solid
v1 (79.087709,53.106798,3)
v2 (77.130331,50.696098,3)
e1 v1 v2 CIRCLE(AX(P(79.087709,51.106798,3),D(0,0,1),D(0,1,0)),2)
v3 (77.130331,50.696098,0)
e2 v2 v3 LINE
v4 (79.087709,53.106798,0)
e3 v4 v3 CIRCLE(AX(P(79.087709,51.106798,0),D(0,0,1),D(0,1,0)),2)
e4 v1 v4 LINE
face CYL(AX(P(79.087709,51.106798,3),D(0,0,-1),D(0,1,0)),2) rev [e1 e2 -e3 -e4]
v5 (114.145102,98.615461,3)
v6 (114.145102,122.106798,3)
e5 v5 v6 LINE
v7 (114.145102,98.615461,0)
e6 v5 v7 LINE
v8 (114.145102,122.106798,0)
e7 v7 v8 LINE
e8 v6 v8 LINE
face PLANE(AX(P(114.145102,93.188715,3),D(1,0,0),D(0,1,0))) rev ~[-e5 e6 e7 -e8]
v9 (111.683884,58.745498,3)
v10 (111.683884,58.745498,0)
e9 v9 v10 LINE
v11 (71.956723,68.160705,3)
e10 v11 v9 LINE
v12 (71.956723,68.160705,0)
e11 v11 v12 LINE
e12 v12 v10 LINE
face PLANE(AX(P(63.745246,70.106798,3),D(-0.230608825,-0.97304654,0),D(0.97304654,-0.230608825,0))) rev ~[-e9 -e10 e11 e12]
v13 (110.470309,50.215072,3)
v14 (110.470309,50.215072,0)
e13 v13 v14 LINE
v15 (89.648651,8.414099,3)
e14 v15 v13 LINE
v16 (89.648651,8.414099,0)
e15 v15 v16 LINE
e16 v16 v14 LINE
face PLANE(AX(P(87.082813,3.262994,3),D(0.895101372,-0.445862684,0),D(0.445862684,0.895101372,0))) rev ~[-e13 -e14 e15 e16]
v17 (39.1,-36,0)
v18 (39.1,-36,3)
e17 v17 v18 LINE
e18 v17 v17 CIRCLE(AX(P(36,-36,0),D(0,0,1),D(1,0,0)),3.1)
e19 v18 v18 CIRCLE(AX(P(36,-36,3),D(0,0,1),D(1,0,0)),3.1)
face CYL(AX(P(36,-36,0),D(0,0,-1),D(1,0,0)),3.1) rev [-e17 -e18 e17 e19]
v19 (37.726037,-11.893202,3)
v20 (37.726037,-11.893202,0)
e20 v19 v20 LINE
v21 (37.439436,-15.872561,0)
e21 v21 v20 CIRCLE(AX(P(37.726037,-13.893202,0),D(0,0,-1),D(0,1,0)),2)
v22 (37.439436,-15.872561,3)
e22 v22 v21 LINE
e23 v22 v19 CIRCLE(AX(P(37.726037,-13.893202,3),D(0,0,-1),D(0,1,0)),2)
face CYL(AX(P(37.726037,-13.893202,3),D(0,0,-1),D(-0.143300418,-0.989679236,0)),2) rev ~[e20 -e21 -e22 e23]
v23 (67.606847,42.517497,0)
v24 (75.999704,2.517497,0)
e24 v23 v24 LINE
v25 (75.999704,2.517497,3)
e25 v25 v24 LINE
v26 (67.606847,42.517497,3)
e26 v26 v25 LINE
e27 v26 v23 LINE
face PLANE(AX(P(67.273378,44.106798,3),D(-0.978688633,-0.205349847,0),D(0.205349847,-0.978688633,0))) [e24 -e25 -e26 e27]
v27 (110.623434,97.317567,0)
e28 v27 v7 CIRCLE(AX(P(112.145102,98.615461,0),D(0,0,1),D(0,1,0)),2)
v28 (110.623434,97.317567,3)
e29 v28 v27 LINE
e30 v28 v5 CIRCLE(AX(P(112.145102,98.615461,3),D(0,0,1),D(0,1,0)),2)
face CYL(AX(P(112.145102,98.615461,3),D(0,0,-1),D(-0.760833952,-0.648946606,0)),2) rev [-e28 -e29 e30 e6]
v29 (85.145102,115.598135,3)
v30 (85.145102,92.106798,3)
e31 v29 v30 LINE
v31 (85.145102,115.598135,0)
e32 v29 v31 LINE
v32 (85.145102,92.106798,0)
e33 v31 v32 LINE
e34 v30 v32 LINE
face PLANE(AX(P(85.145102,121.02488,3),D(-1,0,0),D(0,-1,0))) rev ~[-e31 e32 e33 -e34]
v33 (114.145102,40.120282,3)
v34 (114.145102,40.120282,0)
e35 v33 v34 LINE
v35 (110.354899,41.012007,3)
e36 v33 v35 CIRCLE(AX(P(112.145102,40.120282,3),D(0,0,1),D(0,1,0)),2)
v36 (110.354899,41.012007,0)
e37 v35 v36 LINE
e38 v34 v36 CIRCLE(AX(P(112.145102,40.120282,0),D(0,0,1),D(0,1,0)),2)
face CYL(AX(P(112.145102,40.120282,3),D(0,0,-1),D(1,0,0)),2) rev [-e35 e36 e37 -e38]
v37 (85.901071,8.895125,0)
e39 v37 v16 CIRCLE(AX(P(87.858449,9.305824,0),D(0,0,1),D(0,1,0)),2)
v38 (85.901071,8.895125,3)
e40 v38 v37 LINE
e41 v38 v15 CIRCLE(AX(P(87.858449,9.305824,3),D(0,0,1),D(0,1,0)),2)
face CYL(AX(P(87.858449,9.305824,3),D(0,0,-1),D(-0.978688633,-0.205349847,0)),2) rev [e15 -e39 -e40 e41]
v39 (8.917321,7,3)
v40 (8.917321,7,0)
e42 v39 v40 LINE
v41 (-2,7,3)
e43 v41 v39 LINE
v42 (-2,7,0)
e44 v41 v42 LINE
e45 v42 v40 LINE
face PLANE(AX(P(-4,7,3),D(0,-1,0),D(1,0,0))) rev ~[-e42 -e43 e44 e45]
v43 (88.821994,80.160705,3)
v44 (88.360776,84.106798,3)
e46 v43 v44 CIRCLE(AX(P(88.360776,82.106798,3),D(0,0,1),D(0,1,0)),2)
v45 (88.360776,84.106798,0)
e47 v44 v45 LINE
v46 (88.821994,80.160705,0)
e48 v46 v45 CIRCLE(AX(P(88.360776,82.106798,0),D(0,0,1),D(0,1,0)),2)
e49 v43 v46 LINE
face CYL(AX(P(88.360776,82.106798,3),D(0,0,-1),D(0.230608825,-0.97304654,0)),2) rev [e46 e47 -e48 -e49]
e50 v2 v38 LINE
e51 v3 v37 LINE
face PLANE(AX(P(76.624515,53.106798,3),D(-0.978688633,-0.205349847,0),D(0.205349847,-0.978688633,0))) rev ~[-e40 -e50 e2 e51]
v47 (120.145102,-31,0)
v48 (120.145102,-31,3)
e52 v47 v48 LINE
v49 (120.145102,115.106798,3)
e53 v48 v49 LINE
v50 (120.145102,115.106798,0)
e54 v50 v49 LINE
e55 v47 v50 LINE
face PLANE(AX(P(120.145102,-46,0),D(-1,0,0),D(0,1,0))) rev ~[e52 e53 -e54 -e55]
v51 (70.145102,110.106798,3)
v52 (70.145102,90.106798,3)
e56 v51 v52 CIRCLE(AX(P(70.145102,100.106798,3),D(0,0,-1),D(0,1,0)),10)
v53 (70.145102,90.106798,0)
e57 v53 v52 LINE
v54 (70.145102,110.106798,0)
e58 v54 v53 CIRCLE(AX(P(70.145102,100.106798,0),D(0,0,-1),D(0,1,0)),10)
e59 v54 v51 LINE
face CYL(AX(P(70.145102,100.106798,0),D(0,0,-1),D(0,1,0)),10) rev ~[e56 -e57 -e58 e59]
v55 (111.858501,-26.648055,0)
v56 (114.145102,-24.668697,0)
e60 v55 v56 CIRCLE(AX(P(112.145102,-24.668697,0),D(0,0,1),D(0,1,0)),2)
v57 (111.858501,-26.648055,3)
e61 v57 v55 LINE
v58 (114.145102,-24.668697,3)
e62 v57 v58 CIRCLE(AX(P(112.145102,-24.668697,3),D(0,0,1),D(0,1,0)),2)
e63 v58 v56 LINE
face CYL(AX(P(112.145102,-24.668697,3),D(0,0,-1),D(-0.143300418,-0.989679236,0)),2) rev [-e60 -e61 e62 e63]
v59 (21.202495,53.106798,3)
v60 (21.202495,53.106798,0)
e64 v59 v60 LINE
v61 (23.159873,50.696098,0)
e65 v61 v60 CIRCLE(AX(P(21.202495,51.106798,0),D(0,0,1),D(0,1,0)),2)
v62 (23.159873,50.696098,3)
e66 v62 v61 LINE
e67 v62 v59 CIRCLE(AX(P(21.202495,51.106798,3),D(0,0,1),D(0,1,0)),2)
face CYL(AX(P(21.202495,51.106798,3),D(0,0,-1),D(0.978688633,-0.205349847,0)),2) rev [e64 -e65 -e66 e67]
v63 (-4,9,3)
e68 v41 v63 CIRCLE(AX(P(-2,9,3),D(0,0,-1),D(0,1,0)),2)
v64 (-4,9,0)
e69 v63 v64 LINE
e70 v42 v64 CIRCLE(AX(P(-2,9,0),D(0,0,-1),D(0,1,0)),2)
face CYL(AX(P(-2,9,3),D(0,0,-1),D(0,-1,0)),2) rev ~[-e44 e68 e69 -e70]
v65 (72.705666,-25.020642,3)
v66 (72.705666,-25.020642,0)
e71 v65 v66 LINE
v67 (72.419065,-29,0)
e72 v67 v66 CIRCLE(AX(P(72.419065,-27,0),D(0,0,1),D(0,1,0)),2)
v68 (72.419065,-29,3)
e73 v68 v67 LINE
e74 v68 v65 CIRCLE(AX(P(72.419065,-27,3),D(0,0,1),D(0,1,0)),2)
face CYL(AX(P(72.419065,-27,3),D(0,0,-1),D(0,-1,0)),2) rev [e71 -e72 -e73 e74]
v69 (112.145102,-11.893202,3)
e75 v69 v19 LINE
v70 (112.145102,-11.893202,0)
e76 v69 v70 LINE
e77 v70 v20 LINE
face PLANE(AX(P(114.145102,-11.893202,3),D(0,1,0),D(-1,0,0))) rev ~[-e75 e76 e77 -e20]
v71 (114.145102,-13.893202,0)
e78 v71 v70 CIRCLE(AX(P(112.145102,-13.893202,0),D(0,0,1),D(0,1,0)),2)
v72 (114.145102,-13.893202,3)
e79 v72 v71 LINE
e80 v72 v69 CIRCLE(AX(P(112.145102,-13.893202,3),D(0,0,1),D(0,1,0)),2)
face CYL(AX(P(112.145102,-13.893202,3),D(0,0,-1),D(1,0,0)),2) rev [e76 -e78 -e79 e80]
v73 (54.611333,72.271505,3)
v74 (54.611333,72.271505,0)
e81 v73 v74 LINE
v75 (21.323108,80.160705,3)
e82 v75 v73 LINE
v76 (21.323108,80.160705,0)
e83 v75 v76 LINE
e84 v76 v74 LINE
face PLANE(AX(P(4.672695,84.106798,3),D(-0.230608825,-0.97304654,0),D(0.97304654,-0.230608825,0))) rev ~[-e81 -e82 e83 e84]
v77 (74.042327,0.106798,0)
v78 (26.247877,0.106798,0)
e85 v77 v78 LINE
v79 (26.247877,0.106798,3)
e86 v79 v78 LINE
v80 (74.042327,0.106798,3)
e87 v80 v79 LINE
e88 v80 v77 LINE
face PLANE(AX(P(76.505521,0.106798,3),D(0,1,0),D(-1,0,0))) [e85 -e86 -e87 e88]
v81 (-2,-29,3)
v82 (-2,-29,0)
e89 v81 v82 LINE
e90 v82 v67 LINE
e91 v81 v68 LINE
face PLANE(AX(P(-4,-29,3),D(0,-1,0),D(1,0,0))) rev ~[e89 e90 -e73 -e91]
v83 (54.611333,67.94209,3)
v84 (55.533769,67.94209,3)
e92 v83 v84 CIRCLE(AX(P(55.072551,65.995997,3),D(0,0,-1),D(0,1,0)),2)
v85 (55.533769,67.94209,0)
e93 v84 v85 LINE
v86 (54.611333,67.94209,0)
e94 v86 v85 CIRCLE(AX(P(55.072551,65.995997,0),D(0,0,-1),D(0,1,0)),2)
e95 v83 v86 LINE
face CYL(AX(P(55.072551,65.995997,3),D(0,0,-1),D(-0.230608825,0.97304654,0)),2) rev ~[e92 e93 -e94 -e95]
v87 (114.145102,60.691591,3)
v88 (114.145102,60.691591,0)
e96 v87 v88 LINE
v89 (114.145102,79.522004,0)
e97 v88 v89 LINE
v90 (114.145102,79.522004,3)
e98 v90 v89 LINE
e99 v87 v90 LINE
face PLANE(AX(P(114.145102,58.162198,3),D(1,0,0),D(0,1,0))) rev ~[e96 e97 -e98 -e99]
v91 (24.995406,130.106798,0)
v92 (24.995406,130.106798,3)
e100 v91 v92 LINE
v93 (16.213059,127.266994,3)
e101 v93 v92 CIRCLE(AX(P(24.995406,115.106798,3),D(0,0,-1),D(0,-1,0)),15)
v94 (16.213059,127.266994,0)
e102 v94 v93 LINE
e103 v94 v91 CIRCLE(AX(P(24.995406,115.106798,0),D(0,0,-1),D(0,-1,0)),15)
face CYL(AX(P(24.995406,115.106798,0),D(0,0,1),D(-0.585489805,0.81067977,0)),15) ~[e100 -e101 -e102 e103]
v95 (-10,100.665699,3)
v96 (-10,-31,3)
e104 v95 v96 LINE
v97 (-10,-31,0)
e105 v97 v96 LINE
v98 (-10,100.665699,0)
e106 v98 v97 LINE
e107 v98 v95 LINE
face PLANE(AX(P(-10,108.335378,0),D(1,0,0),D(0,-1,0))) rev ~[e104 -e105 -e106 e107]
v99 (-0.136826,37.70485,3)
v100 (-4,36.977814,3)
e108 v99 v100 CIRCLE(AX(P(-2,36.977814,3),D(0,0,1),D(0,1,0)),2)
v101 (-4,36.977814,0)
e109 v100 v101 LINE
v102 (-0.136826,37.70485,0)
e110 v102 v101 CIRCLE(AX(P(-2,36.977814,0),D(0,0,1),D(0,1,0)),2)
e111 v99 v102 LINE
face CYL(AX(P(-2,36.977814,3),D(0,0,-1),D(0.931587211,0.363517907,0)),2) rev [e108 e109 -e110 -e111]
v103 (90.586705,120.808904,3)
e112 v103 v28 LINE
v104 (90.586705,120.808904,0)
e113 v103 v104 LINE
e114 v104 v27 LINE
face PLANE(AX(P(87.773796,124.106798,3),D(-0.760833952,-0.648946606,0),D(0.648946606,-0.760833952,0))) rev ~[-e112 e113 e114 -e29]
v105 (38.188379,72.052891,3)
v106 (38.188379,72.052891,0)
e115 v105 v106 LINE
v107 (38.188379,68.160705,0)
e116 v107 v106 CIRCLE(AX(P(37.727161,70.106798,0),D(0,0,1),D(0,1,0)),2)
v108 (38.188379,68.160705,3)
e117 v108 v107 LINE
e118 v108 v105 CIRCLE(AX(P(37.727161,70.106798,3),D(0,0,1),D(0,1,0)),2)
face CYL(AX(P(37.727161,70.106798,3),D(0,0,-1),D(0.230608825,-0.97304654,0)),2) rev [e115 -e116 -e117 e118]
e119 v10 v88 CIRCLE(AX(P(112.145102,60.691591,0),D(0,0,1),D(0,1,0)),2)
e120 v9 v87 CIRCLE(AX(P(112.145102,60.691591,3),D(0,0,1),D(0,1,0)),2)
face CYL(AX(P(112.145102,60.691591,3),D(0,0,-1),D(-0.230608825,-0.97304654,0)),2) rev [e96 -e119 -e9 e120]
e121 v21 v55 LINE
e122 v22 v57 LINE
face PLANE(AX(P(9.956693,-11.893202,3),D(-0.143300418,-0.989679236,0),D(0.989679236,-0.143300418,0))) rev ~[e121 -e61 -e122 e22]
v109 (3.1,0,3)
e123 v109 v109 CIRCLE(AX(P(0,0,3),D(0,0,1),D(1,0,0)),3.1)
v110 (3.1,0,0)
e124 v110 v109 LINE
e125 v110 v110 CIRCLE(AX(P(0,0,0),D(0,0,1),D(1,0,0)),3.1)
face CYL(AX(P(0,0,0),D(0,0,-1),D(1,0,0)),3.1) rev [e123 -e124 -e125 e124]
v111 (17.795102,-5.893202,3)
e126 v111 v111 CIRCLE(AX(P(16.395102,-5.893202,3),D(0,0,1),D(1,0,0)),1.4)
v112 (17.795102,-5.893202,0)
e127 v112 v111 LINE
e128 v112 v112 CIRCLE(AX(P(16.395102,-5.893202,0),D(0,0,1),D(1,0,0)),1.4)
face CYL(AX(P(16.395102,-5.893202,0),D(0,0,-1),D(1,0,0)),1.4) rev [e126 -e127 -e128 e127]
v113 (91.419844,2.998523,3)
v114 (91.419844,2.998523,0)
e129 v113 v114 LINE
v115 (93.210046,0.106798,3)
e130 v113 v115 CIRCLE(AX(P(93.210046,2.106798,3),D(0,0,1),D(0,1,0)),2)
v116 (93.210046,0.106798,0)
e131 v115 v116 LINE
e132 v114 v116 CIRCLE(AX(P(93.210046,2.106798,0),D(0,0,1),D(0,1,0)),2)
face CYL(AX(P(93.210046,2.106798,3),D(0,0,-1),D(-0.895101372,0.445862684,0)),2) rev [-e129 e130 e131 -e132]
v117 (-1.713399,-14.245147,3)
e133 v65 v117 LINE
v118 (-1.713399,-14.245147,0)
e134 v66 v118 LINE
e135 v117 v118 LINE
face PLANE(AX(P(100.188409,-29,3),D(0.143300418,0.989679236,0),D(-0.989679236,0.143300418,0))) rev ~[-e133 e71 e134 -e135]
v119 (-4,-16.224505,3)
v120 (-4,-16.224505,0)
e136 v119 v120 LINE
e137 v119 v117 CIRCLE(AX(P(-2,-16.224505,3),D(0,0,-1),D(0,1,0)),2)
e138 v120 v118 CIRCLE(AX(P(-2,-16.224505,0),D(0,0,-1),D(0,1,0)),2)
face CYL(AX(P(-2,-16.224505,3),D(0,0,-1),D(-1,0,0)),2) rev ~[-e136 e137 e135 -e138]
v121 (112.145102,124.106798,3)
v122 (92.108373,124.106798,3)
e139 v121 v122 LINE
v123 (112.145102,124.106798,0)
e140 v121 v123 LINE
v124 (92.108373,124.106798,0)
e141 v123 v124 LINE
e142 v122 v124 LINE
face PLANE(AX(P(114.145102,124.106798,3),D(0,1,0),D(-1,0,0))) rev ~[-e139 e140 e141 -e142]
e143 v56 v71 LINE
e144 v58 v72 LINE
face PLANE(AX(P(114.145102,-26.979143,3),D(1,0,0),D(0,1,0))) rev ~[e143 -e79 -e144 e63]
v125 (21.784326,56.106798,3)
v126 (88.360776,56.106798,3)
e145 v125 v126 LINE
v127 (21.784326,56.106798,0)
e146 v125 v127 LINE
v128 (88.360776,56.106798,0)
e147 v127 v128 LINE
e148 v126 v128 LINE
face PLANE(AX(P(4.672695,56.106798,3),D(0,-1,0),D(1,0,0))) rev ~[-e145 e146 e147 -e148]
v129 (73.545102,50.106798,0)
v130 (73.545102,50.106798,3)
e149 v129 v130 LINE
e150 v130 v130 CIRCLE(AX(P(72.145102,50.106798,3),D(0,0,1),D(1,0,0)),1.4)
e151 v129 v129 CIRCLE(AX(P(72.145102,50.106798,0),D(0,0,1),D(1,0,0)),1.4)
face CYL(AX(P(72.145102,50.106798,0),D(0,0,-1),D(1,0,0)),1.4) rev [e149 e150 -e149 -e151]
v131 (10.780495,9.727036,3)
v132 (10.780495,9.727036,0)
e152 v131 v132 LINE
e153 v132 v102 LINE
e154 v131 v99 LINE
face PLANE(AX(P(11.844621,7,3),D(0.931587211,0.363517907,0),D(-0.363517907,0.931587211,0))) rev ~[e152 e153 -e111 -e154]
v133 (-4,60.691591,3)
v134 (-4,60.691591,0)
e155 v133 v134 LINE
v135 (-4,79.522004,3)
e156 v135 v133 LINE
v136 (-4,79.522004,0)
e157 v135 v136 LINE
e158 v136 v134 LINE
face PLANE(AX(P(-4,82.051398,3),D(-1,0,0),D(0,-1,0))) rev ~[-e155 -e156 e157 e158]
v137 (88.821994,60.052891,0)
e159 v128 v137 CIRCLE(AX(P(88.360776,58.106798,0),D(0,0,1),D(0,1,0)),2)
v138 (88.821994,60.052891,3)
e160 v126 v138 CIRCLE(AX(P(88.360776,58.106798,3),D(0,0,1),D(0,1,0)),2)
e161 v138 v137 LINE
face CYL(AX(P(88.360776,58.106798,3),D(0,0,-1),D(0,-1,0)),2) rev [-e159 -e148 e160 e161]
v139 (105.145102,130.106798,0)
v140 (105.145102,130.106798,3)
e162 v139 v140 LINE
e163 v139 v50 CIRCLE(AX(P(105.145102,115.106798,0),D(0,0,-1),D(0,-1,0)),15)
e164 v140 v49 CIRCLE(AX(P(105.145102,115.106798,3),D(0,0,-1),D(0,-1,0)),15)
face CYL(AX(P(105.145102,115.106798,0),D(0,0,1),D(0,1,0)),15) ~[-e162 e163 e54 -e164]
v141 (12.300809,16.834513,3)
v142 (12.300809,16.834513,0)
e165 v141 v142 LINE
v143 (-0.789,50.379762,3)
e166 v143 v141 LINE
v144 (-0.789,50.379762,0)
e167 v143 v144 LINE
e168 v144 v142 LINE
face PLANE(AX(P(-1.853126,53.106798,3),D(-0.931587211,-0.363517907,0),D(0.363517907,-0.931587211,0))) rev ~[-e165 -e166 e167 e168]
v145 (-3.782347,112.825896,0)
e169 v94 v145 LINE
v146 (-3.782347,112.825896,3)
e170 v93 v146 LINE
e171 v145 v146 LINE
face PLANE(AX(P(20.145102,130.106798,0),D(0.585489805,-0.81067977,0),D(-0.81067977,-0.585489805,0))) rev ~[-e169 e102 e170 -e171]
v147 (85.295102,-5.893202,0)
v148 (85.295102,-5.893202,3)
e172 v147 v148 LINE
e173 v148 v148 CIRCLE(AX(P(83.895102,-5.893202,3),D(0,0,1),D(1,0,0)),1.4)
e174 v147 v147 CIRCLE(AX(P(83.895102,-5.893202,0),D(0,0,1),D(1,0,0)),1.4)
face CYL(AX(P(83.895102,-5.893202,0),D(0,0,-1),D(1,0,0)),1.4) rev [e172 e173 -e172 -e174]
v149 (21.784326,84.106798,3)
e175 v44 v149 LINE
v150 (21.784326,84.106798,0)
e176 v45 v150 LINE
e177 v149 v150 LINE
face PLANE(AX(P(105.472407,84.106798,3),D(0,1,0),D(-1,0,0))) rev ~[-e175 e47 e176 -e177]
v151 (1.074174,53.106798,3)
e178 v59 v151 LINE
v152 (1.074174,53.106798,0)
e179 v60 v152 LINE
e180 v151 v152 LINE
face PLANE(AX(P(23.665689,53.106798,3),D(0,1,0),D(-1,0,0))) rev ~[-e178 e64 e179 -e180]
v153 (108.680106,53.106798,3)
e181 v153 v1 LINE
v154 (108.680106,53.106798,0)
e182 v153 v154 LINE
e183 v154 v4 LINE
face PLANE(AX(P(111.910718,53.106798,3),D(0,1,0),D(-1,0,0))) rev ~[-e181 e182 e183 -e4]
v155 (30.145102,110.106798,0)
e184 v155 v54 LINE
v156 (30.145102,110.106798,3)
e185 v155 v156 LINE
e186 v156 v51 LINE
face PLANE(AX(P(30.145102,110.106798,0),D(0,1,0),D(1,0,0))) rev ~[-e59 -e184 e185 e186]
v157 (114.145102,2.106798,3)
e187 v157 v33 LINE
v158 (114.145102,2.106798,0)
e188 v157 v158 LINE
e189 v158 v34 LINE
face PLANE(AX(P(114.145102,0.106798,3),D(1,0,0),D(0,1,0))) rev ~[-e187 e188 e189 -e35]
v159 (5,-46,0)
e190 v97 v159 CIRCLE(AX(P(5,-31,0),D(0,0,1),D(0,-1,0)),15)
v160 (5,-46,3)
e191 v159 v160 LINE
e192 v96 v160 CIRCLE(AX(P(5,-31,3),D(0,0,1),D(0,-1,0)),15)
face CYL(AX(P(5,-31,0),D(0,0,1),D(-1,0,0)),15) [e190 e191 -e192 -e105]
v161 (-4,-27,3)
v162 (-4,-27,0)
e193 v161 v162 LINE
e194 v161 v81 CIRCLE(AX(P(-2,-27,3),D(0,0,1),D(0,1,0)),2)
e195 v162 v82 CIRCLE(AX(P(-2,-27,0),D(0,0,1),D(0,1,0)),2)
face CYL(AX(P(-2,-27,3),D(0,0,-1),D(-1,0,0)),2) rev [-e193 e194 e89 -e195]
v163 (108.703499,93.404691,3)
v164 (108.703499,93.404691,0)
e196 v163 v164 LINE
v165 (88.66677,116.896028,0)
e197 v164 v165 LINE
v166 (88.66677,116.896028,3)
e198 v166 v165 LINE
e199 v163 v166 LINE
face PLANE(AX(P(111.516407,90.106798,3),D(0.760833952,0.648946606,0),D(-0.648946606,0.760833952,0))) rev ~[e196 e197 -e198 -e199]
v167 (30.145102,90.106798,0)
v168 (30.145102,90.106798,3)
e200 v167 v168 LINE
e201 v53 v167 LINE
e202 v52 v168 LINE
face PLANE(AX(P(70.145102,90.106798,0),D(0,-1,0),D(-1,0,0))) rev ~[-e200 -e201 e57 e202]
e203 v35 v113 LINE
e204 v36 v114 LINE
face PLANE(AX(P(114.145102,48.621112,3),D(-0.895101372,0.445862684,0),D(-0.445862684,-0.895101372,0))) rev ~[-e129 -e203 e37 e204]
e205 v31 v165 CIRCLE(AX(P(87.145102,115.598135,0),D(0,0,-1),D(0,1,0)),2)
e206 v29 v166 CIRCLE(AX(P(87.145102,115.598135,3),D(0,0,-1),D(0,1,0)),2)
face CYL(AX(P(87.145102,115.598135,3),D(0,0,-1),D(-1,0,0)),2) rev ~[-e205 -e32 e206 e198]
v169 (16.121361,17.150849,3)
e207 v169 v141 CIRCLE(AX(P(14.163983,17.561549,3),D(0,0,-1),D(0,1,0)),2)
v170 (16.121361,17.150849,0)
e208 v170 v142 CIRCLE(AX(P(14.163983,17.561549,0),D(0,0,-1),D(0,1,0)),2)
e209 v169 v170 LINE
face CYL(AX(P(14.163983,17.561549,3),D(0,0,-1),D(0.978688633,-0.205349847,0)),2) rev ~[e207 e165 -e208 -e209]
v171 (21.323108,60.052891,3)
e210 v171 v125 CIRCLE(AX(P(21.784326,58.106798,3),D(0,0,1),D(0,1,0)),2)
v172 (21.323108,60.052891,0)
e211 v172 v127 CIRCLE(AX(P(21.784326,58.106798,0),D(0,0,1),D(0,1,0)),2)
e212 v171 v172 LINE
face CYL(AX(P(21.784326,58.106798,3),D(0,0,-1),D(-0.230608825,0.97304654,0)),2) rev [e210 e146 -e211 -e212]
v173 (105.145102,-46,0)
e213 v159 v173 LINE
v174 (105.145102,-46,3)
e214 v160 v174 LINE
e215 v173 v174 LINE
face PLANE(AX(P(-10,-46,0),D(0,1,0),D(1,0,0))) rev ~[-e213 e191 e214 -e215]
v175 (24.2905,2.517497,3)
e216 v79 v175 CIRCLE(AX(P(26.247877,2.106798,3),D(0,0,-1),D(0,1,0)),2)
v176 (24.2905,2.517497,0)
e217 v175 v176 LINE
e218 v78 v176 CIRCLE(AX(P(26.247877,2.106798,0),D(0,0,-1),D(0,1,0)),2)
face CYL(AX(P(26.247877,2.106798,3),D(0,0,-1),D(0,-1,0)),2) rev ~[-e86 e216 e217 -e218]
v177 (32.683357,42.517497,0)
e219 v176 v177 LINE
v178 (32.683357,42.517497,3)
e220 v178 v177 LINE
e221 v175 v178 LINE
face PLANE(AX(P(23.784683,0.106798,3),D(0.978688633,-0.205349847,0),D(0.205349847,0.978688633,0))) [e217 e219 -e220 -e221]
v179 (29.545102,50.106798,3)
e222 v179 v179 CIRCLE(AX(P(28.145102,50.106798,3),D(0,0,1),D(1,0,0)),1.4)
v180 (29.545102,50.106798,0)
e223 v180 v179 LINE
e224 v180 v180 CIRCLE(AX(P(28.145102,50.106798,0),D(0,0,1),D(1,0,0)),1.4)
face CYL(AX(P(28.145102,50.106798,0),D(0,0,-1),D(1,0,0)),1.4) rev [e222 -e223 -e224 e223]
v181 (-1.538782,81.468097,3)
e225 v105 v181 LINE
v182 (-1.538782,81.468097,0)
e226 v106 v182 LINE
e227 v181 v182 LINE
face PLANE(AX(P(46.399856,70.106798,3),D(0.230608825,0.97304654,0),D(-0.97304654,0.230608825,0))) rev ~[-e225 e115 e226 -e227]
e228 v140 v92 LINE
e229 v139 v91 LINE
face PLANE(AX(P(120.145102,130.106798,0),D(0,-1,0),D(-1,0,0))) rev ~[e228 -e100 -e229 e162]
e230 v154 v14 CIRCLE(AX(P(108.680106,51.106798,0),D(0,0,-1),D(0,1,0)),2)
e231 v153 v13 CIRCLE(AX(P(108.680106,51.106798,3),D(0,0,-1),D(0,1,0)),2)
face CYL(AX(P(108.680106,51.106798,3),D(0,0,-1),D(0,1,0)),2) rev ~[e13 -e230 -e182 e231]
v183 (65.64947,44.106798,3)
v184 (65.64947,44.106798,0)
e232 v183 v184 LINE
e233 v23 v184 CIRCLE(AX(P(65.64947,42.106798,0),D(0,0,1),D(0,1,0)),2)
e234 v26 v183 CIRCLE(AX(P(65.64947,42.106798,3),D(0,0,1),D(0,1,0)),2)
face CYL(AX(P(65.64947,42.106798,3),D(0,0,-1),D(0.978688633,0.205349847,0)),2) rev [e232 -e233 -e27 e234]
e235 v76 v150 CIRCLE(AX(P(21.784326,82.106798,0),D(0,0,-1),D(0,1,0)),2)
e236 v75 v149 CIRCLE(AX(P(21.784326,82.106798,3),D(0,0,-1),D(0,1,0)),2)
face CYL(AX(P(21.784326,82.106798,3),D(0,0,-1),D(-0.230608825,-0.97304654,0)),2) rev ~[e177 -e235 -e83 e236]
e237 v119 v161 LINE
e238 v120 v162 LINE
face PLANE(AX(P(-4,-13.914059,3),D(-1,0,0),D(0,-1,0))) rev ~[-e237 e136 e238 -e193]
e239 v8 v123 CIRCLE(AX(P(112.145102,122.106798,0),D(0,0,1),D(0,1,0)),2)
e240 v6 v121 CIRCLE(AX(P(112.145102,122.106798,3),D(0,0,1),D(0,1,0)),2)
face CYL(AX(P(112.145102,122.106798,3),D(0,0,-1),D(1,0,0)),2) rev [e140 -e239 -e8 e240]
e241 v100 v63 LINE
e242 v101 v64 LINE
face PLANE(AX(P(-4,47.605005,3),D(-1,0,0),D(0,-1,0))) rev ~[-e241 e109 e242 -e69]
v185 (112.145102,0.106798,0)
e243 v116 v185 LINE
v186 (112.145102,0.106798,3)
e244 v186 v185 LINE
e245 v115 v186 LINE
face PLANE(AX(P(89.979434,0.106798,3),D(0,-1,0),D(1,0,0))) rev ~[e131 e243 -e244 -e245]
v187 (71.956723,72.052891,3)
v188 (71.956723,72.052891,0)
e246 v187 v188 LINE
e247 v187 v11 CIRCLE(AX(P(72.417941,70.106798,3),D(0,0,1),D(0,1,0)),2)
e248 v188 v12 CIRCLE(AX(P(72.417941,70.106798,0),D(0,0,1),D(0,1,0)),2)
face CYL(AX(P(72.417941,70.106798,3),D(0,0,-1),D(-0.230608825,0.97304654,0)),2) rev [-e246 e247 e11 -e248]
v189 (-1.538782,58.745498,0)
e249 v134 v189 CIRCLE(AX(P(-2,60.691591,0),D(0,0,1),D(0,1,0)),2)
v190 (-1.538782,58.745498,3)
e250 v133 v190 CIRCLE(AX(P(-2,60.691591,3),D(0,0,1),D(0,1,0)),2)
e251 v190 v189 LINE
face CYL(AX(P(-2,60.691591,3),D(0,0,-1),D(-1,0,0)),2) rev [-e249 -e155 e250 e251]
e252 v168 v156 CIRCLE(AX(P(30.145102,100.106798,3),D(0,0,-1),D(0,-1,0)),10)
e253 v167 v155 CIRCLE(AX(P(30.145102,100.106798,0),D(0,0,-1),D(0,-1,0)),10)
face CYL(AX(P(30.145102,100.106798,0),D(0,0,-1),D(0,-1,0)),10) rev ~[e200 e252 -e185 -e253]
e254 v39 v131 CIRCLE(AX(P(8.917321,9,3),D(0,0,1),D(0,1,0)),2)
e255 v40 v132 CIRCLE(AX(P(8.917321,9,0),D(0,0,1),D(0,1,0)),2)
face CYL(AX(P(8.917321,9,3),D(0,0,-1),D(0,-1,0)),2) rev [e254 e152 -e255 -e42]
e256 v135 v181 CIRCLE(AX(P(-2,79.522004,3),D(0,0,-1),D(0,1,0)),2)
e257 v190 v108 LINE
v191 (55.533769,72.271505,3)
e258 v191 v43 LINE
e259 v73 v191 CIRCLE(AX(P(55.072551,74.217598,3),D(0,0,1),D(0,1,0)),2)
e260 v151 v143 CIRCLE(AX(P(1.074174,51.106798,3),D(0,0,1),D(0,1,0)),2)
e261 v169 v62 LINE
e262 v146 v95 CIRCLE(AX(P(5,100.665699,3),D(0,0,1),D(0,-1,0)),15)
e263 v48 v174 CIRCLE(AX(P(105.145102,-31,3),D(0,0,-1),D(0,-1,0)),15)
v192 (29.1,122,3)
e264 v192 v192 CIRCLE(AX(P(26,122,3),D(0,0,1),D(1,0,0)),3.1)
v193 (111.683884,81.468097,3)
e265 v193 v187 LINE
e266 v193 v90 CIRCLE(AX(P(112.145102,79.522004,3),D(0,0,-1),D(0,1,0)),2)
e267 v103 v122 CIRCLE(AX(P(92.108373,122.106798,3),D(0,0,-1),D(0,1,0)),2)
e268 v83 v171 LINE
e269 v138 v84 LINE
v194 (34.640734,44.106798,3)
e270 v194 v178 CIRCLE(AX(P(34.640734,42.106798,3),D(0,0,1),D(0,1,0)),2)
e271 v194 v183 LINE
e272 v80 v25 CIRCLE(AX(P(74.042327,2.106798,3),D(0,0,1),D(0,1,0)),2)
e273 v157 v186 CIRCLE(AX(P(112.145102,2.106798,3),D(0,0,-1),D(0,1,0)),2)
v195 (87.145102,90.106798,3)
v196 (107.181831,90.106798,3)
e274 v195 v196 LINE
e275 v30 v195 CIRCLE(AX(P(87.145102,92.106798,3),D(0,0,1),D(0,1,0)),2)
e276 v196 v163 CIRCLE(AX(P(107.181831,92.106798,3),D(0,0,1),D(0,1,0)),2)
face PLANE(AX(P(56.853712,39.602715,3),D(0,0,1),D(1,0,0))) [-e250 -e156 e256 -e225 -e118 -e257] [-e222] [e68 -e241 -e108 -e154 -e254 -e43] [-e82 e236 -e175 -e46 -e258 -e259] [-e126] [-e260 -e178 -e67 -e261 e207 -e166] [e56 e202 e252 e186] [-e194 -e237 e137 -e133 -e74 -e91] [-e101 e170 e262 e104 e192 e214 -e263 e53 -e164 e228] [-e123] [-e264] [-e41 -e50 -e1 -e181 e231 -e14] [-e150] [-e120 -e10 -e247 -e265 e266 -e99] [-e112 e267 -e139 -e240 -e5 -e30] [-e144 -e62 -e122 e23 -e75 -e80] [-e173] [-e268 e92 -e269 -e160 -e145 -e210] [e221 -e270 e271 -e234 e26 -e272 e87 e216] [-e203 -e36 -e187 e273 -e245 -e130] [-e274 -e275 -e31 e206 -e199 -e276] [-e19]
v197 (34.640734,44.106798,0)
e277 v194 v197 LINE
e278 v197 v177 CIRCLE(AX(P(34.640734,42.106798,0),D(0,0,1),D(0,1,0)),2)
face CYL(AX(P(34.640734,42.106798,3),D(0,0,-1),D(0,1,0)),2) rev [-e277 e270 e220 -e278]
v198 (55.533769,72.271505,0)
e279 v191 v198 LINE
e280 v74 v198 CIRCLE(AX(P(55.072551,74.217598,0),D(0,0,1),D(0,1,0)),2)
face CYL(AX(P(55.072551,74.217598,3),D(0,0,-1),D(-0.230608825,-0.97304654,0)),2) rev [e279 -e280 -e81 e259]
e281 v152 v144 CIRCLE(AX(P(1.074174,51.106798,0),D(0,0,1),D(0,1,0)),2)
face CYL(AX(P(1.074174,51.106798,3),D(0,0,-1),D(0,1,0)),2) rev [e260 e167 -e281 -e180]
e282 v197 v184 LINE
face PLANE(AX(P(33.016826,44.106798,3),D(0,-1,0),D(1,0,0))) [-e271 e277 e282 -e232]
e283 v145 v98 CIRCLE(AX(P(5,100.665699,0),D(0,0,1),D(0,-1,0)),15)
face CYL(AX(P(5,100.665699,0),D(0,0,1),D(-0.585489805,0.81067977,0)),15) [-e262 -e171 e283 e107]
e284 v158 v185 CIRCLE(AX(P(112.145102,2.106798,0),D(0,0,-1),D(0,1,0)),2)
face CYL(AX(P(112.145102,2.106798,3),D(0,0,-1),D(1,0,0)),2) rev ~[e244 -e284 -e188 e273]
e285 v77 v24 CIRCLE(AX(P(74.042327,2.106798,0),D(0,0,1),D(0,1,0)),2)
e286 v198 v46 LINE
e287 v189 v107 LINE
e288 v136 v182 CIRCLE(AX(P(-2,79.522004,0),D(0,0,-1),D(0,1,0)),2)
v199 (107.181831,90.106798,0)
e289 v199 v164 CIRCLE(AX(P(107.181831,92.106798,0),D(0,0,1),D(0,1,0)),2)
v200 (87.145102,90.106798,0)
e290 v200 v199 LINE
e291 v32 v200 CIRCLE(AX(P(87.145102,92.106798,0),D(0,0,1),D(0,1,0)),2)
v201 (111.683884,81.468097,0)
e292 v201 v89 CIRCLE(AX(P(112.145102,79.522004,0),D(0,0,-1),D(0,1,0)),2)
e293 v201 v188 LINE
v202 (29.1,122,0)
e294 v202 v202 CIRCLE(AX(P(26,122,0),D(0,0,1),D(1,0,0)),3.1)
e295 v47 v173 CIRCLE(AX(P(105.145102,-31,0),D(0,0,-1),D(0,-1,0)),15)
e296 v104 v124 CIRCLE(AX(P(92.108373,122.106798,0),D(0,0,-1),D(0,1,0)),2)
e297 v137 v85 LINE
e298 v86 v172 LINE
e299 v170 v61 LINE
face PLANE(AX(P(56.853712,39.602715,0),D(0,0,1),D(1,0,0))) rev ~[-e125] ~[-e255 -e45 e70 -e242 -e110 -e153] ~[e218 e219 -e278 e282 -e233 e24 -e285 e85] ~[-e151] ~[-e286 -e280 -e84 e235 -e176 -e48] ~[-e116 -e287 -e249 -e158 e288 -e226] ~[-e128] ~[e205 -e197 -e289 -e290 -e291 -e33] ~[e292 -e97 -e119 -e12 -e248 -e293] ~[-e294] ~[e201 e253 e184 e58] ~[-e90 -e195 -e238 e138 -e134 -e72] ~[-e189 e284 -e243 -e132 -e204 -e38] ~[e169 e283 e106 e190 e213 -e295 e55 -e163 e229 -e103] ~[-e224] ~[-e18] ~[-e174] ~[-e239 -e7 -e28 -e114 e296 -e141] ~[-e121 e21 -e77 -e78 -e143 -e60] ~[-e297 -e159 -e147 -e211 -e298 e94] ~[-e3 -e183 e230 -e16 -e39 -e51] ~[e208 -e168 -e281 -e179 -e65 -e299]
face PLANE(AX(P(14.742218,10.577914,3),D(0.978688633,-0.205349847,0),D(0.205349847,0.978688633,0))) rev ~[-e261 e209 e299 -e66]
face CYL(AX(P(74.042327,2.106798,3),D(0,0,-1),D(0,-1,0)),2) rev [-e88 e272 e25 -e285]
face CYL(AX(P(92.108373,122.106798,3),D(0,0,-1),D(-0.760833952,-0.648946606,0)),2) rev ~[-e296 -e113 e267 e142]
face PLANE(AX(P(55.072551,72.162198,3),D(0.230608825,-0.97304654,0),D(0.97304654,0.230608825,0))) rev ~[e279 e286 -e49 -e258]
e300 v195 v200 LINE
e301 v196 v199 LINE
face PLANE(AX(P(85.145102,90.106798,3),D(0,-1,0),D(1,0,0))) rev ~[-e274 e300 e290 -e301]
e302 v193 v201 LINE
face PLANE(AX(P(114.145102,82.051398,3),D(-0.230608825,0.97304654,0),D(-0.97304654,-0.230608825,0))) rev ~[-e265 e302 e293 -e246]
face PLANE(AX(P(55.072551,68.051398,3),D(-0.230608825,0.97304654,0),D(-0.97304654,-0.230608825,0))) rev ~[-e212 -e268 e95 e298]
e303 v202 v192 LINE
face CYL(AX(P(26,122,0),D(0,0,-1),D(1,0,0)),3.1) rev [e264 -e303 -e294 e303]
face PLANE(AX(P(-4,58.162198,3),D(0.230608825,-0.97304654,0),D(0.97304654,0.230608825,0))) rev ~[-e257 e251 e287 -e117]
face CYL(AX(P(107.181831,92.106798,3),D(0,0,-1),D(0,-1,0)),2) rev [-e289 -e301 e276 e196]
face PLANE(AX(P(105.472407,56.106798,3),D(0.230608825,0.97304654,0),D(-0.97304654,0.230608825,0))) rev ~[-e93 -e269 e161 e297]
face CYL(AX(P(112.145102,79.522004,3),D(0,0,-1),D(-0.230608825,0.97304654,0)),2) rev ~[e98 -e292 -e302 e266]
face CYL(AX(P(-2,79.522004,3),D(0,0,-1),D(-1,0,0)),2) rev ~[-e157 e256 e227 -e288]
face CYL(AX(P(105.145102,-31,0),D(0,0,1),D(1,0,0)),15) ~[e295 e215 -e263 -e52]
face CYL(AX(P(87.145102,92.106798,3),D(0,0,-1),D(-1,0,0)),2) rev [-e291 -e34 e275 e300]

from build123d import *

# Parameters (mm, degrees)
SKETCH_1_R          = 3.1
SKETCH_1_R_2        = 1.4
EXTRUDE_1_DEPTH     = 3
FILLET_1_R          = 15
CUT_EXTRUDE_1_DEPTH = 10
FILLET_2_R          = 2


with BuildPart() as part:
    # 草图1 → 凸台-拉伸1 (new body)
    with BuildSketch(Plane.XY):
        Polygon((20.145101954, 130.106797695), (-10, 108.335377566), (-10, 0), (-10, -46), (36, -46), (120.145101954, -46), (120.145101954, 130.106797695), align=None)
        Circle(SKETCH_1_R, mode=Mode.SUBTRACT)
        with Locations((26, 122)):
            Circle(SKETCH_1_R, mode=Mode.SUBTRACT)
        with Locations((36, -36)):
            Circle(SKETCH_1_R, mode=Mode.SUBTRACT)
        with Locations((28.145101954, 50.106797695)):
            Circle(SKETCH_1_R_2, mode=Mode.SUBTRACT)
        with Locations((72.145101954, 50.106797695)):
            Circle(SKETCH_1_R_2, mode=Mode.SUBTRACT)
        with Locations((16.395101954, -5.893202305)):
            Circle(SKETCH_1_R_2, mode=Mode.SUBTRACT)
        with Locations((83.895101954, -5.893202305)):
            Circle(SKETCH_1_R_2, mode=Mode.SUBTRACT)
        with BuildLine():
            Line((30.145101954, 110.106797695), (70.145101954, 110.106797695))
            ThreePointArc((70.145101954, 110.106797695), (80.145101954, 100.106797695), (70.145101954, 90.106797695))
            Line((70.145101954, 90.106797695), (30.145101954, 90.106797695))
            ThreePointArc((30.145101954, 90.106797695), (20.145101954, 100.106797695), (30.145101954, 110.106797695))
        make_face(mode=Mode.SUBTRACT)
    extrude(amount=EXTRUDE_1_DEPTH)

    # 圆角1
    fillet_1_edges = [part.edges().sort_by_distance(p)[0] for p in [
        (-10, -46, 1.5),
        (-10, 108.335377566, 1.5),
        (20.145101954, 130.106797695, 1.5),
        (120.145101954, 130.106797695, 1.5),
        (120.145101954, -46, 1.5),
    ]]
    fillet(fillet_1_edges, radius=FILLET_1_R)

    # 草图2 → 切除-拉伸1 (cut)
    with BuildSketch(Plane.XY.offset(3)):
        Polygon((9.95669343, -11.893202305), (114.145101954, -26.979143214), (114.145101954, -11.893202305), align=None)
        Polygon((-4, -13.914059091), (-4, -29), (100.188408524, -29), align=None)
        Polygon((23.784683113, 0.106797695), (33.01682597, 44.106797695), (67.273377938, 44.106797695), (76.505520795, 0.106797695), align=None)
        Polygon((14.742218034, 10.577914397), (23.665689084, 53.106797695), (-1.853126388, 53.106797695), align=None)
        Polygon((-4, 7), (11.844621313, 7), (-4, 47.605005448), align=None)
        Polygon((111.910718161, 53.106797695), (76.624514825, 53.106797695), (87.082812907, 3.262994069), align=None)
        Polygon((114.145101954, 0.106797695), (114.145101954, 48.621111695), (89.979434332, 0.106797695), align=None)
        Polygon((-4, 82.051397551), (-4, 58.16219784), (46.39985599, 70.106797695), align=None)
        Polygon((4.672694987, 84.106797695), (55.072550977, 72.16219784), (105.472406967, 84.106797695), align=None)
        Polygon((114.145101954, 82.051397551), (63.745245965, 70.106797695), (114.145101954, 58.16219784), align=None)
        Polygon((55.072550977, 68.051397551), (4.672694987, 56.106797695), (105.472406967, 56.106797695), align=None)
        Polygon((87.773796421, 124.106797695), (114.145101954, 93.188715346), (114.145101954, 124.106797695), align=None)
        Polygon((85.145101954, 121.024880044), (85.145101954, 90.106797695), (111.516407487, 90.106797695), align=None)
    extrude(amount=-CUT_EXTRUDE_1_DEPTH, mode=Mode.SUBTRACT)

    # 圆角2
    fillet_2_edges = [part.edges().sort_by_distance(p)[0] for p in [
        (-4, 58.16219784, 1.5),
        (-4, 82.051397551, 1.5),
        (46.39985599, 70.106797695, 1.5),
        (55.072550977, 72.16219784, 1.5),
        (4.672694987, 84.106797695, 1.5),
        (105.472406967, 84.106797695, 1.5),
        (111.910718161, 53.106797695, 1.5),
        (87.082812907, 3.262994069, 1.5),
        (76.624514825, 53.106797695, 1.5),
        (114.145101954, 48.621111695, 1.5),
        (114.145101954, 0.106797695, 1.5),
        (89.979434332, 0.106797695, 1.5),
        (-4, -13.914059091, 1.5),
        (100.188408524, -29, 1.5),
        (-4, -29, 1.5),
        (23.784683113, 0.106797695, 1.5),
        (33.01682597, 44.106797695, 1.5),
        (67.273377938, 44.106797695, 1.5),
        (76.505520795, 0.106797695, 1.5),
        (-4, 47.605005448, 1.5),
        (11.844621313, 7, 1.5),
        (-4, 7, 1.5),
        (-1.853126388, 53.106797695, 1.5),
        (23.665689084, 53.106797695, 1.5),
        (14.742218034, 10.577914397, 1.5),
        (4.672694987, 56.106797695, 1.5),
        (55.072550977, 68.051397551, 1.5),
        (105.472406967, 56.106797695, 1.5),
        (63.745245965, 70.106797695, 1.5),
        (114.145101954, 82.051397551, 1.5),
        (114.145101954, 58.16219784, 1.5),
        (85.145101954, 121.024880044, 1.5),
        (111.516407487, 90.106797695, 1.5),
        (85.145101954, 90.106797695, 1.5),
        (87.773796421, 124.106797695, 1.5),
        (114.145101954, 124.106797695, 1.5),
        (114.145101954, 93.188715346, 1.5),
        (9.95669343, -11.893202305, 1.5),
        (114.145101954, -11.893202305, 1.5),
        (114.145101954, -26.979143214, 1.5),
    ]]
    fillet(fillet_2_edges, radius=FILLET_2_R)


solid = part.part
